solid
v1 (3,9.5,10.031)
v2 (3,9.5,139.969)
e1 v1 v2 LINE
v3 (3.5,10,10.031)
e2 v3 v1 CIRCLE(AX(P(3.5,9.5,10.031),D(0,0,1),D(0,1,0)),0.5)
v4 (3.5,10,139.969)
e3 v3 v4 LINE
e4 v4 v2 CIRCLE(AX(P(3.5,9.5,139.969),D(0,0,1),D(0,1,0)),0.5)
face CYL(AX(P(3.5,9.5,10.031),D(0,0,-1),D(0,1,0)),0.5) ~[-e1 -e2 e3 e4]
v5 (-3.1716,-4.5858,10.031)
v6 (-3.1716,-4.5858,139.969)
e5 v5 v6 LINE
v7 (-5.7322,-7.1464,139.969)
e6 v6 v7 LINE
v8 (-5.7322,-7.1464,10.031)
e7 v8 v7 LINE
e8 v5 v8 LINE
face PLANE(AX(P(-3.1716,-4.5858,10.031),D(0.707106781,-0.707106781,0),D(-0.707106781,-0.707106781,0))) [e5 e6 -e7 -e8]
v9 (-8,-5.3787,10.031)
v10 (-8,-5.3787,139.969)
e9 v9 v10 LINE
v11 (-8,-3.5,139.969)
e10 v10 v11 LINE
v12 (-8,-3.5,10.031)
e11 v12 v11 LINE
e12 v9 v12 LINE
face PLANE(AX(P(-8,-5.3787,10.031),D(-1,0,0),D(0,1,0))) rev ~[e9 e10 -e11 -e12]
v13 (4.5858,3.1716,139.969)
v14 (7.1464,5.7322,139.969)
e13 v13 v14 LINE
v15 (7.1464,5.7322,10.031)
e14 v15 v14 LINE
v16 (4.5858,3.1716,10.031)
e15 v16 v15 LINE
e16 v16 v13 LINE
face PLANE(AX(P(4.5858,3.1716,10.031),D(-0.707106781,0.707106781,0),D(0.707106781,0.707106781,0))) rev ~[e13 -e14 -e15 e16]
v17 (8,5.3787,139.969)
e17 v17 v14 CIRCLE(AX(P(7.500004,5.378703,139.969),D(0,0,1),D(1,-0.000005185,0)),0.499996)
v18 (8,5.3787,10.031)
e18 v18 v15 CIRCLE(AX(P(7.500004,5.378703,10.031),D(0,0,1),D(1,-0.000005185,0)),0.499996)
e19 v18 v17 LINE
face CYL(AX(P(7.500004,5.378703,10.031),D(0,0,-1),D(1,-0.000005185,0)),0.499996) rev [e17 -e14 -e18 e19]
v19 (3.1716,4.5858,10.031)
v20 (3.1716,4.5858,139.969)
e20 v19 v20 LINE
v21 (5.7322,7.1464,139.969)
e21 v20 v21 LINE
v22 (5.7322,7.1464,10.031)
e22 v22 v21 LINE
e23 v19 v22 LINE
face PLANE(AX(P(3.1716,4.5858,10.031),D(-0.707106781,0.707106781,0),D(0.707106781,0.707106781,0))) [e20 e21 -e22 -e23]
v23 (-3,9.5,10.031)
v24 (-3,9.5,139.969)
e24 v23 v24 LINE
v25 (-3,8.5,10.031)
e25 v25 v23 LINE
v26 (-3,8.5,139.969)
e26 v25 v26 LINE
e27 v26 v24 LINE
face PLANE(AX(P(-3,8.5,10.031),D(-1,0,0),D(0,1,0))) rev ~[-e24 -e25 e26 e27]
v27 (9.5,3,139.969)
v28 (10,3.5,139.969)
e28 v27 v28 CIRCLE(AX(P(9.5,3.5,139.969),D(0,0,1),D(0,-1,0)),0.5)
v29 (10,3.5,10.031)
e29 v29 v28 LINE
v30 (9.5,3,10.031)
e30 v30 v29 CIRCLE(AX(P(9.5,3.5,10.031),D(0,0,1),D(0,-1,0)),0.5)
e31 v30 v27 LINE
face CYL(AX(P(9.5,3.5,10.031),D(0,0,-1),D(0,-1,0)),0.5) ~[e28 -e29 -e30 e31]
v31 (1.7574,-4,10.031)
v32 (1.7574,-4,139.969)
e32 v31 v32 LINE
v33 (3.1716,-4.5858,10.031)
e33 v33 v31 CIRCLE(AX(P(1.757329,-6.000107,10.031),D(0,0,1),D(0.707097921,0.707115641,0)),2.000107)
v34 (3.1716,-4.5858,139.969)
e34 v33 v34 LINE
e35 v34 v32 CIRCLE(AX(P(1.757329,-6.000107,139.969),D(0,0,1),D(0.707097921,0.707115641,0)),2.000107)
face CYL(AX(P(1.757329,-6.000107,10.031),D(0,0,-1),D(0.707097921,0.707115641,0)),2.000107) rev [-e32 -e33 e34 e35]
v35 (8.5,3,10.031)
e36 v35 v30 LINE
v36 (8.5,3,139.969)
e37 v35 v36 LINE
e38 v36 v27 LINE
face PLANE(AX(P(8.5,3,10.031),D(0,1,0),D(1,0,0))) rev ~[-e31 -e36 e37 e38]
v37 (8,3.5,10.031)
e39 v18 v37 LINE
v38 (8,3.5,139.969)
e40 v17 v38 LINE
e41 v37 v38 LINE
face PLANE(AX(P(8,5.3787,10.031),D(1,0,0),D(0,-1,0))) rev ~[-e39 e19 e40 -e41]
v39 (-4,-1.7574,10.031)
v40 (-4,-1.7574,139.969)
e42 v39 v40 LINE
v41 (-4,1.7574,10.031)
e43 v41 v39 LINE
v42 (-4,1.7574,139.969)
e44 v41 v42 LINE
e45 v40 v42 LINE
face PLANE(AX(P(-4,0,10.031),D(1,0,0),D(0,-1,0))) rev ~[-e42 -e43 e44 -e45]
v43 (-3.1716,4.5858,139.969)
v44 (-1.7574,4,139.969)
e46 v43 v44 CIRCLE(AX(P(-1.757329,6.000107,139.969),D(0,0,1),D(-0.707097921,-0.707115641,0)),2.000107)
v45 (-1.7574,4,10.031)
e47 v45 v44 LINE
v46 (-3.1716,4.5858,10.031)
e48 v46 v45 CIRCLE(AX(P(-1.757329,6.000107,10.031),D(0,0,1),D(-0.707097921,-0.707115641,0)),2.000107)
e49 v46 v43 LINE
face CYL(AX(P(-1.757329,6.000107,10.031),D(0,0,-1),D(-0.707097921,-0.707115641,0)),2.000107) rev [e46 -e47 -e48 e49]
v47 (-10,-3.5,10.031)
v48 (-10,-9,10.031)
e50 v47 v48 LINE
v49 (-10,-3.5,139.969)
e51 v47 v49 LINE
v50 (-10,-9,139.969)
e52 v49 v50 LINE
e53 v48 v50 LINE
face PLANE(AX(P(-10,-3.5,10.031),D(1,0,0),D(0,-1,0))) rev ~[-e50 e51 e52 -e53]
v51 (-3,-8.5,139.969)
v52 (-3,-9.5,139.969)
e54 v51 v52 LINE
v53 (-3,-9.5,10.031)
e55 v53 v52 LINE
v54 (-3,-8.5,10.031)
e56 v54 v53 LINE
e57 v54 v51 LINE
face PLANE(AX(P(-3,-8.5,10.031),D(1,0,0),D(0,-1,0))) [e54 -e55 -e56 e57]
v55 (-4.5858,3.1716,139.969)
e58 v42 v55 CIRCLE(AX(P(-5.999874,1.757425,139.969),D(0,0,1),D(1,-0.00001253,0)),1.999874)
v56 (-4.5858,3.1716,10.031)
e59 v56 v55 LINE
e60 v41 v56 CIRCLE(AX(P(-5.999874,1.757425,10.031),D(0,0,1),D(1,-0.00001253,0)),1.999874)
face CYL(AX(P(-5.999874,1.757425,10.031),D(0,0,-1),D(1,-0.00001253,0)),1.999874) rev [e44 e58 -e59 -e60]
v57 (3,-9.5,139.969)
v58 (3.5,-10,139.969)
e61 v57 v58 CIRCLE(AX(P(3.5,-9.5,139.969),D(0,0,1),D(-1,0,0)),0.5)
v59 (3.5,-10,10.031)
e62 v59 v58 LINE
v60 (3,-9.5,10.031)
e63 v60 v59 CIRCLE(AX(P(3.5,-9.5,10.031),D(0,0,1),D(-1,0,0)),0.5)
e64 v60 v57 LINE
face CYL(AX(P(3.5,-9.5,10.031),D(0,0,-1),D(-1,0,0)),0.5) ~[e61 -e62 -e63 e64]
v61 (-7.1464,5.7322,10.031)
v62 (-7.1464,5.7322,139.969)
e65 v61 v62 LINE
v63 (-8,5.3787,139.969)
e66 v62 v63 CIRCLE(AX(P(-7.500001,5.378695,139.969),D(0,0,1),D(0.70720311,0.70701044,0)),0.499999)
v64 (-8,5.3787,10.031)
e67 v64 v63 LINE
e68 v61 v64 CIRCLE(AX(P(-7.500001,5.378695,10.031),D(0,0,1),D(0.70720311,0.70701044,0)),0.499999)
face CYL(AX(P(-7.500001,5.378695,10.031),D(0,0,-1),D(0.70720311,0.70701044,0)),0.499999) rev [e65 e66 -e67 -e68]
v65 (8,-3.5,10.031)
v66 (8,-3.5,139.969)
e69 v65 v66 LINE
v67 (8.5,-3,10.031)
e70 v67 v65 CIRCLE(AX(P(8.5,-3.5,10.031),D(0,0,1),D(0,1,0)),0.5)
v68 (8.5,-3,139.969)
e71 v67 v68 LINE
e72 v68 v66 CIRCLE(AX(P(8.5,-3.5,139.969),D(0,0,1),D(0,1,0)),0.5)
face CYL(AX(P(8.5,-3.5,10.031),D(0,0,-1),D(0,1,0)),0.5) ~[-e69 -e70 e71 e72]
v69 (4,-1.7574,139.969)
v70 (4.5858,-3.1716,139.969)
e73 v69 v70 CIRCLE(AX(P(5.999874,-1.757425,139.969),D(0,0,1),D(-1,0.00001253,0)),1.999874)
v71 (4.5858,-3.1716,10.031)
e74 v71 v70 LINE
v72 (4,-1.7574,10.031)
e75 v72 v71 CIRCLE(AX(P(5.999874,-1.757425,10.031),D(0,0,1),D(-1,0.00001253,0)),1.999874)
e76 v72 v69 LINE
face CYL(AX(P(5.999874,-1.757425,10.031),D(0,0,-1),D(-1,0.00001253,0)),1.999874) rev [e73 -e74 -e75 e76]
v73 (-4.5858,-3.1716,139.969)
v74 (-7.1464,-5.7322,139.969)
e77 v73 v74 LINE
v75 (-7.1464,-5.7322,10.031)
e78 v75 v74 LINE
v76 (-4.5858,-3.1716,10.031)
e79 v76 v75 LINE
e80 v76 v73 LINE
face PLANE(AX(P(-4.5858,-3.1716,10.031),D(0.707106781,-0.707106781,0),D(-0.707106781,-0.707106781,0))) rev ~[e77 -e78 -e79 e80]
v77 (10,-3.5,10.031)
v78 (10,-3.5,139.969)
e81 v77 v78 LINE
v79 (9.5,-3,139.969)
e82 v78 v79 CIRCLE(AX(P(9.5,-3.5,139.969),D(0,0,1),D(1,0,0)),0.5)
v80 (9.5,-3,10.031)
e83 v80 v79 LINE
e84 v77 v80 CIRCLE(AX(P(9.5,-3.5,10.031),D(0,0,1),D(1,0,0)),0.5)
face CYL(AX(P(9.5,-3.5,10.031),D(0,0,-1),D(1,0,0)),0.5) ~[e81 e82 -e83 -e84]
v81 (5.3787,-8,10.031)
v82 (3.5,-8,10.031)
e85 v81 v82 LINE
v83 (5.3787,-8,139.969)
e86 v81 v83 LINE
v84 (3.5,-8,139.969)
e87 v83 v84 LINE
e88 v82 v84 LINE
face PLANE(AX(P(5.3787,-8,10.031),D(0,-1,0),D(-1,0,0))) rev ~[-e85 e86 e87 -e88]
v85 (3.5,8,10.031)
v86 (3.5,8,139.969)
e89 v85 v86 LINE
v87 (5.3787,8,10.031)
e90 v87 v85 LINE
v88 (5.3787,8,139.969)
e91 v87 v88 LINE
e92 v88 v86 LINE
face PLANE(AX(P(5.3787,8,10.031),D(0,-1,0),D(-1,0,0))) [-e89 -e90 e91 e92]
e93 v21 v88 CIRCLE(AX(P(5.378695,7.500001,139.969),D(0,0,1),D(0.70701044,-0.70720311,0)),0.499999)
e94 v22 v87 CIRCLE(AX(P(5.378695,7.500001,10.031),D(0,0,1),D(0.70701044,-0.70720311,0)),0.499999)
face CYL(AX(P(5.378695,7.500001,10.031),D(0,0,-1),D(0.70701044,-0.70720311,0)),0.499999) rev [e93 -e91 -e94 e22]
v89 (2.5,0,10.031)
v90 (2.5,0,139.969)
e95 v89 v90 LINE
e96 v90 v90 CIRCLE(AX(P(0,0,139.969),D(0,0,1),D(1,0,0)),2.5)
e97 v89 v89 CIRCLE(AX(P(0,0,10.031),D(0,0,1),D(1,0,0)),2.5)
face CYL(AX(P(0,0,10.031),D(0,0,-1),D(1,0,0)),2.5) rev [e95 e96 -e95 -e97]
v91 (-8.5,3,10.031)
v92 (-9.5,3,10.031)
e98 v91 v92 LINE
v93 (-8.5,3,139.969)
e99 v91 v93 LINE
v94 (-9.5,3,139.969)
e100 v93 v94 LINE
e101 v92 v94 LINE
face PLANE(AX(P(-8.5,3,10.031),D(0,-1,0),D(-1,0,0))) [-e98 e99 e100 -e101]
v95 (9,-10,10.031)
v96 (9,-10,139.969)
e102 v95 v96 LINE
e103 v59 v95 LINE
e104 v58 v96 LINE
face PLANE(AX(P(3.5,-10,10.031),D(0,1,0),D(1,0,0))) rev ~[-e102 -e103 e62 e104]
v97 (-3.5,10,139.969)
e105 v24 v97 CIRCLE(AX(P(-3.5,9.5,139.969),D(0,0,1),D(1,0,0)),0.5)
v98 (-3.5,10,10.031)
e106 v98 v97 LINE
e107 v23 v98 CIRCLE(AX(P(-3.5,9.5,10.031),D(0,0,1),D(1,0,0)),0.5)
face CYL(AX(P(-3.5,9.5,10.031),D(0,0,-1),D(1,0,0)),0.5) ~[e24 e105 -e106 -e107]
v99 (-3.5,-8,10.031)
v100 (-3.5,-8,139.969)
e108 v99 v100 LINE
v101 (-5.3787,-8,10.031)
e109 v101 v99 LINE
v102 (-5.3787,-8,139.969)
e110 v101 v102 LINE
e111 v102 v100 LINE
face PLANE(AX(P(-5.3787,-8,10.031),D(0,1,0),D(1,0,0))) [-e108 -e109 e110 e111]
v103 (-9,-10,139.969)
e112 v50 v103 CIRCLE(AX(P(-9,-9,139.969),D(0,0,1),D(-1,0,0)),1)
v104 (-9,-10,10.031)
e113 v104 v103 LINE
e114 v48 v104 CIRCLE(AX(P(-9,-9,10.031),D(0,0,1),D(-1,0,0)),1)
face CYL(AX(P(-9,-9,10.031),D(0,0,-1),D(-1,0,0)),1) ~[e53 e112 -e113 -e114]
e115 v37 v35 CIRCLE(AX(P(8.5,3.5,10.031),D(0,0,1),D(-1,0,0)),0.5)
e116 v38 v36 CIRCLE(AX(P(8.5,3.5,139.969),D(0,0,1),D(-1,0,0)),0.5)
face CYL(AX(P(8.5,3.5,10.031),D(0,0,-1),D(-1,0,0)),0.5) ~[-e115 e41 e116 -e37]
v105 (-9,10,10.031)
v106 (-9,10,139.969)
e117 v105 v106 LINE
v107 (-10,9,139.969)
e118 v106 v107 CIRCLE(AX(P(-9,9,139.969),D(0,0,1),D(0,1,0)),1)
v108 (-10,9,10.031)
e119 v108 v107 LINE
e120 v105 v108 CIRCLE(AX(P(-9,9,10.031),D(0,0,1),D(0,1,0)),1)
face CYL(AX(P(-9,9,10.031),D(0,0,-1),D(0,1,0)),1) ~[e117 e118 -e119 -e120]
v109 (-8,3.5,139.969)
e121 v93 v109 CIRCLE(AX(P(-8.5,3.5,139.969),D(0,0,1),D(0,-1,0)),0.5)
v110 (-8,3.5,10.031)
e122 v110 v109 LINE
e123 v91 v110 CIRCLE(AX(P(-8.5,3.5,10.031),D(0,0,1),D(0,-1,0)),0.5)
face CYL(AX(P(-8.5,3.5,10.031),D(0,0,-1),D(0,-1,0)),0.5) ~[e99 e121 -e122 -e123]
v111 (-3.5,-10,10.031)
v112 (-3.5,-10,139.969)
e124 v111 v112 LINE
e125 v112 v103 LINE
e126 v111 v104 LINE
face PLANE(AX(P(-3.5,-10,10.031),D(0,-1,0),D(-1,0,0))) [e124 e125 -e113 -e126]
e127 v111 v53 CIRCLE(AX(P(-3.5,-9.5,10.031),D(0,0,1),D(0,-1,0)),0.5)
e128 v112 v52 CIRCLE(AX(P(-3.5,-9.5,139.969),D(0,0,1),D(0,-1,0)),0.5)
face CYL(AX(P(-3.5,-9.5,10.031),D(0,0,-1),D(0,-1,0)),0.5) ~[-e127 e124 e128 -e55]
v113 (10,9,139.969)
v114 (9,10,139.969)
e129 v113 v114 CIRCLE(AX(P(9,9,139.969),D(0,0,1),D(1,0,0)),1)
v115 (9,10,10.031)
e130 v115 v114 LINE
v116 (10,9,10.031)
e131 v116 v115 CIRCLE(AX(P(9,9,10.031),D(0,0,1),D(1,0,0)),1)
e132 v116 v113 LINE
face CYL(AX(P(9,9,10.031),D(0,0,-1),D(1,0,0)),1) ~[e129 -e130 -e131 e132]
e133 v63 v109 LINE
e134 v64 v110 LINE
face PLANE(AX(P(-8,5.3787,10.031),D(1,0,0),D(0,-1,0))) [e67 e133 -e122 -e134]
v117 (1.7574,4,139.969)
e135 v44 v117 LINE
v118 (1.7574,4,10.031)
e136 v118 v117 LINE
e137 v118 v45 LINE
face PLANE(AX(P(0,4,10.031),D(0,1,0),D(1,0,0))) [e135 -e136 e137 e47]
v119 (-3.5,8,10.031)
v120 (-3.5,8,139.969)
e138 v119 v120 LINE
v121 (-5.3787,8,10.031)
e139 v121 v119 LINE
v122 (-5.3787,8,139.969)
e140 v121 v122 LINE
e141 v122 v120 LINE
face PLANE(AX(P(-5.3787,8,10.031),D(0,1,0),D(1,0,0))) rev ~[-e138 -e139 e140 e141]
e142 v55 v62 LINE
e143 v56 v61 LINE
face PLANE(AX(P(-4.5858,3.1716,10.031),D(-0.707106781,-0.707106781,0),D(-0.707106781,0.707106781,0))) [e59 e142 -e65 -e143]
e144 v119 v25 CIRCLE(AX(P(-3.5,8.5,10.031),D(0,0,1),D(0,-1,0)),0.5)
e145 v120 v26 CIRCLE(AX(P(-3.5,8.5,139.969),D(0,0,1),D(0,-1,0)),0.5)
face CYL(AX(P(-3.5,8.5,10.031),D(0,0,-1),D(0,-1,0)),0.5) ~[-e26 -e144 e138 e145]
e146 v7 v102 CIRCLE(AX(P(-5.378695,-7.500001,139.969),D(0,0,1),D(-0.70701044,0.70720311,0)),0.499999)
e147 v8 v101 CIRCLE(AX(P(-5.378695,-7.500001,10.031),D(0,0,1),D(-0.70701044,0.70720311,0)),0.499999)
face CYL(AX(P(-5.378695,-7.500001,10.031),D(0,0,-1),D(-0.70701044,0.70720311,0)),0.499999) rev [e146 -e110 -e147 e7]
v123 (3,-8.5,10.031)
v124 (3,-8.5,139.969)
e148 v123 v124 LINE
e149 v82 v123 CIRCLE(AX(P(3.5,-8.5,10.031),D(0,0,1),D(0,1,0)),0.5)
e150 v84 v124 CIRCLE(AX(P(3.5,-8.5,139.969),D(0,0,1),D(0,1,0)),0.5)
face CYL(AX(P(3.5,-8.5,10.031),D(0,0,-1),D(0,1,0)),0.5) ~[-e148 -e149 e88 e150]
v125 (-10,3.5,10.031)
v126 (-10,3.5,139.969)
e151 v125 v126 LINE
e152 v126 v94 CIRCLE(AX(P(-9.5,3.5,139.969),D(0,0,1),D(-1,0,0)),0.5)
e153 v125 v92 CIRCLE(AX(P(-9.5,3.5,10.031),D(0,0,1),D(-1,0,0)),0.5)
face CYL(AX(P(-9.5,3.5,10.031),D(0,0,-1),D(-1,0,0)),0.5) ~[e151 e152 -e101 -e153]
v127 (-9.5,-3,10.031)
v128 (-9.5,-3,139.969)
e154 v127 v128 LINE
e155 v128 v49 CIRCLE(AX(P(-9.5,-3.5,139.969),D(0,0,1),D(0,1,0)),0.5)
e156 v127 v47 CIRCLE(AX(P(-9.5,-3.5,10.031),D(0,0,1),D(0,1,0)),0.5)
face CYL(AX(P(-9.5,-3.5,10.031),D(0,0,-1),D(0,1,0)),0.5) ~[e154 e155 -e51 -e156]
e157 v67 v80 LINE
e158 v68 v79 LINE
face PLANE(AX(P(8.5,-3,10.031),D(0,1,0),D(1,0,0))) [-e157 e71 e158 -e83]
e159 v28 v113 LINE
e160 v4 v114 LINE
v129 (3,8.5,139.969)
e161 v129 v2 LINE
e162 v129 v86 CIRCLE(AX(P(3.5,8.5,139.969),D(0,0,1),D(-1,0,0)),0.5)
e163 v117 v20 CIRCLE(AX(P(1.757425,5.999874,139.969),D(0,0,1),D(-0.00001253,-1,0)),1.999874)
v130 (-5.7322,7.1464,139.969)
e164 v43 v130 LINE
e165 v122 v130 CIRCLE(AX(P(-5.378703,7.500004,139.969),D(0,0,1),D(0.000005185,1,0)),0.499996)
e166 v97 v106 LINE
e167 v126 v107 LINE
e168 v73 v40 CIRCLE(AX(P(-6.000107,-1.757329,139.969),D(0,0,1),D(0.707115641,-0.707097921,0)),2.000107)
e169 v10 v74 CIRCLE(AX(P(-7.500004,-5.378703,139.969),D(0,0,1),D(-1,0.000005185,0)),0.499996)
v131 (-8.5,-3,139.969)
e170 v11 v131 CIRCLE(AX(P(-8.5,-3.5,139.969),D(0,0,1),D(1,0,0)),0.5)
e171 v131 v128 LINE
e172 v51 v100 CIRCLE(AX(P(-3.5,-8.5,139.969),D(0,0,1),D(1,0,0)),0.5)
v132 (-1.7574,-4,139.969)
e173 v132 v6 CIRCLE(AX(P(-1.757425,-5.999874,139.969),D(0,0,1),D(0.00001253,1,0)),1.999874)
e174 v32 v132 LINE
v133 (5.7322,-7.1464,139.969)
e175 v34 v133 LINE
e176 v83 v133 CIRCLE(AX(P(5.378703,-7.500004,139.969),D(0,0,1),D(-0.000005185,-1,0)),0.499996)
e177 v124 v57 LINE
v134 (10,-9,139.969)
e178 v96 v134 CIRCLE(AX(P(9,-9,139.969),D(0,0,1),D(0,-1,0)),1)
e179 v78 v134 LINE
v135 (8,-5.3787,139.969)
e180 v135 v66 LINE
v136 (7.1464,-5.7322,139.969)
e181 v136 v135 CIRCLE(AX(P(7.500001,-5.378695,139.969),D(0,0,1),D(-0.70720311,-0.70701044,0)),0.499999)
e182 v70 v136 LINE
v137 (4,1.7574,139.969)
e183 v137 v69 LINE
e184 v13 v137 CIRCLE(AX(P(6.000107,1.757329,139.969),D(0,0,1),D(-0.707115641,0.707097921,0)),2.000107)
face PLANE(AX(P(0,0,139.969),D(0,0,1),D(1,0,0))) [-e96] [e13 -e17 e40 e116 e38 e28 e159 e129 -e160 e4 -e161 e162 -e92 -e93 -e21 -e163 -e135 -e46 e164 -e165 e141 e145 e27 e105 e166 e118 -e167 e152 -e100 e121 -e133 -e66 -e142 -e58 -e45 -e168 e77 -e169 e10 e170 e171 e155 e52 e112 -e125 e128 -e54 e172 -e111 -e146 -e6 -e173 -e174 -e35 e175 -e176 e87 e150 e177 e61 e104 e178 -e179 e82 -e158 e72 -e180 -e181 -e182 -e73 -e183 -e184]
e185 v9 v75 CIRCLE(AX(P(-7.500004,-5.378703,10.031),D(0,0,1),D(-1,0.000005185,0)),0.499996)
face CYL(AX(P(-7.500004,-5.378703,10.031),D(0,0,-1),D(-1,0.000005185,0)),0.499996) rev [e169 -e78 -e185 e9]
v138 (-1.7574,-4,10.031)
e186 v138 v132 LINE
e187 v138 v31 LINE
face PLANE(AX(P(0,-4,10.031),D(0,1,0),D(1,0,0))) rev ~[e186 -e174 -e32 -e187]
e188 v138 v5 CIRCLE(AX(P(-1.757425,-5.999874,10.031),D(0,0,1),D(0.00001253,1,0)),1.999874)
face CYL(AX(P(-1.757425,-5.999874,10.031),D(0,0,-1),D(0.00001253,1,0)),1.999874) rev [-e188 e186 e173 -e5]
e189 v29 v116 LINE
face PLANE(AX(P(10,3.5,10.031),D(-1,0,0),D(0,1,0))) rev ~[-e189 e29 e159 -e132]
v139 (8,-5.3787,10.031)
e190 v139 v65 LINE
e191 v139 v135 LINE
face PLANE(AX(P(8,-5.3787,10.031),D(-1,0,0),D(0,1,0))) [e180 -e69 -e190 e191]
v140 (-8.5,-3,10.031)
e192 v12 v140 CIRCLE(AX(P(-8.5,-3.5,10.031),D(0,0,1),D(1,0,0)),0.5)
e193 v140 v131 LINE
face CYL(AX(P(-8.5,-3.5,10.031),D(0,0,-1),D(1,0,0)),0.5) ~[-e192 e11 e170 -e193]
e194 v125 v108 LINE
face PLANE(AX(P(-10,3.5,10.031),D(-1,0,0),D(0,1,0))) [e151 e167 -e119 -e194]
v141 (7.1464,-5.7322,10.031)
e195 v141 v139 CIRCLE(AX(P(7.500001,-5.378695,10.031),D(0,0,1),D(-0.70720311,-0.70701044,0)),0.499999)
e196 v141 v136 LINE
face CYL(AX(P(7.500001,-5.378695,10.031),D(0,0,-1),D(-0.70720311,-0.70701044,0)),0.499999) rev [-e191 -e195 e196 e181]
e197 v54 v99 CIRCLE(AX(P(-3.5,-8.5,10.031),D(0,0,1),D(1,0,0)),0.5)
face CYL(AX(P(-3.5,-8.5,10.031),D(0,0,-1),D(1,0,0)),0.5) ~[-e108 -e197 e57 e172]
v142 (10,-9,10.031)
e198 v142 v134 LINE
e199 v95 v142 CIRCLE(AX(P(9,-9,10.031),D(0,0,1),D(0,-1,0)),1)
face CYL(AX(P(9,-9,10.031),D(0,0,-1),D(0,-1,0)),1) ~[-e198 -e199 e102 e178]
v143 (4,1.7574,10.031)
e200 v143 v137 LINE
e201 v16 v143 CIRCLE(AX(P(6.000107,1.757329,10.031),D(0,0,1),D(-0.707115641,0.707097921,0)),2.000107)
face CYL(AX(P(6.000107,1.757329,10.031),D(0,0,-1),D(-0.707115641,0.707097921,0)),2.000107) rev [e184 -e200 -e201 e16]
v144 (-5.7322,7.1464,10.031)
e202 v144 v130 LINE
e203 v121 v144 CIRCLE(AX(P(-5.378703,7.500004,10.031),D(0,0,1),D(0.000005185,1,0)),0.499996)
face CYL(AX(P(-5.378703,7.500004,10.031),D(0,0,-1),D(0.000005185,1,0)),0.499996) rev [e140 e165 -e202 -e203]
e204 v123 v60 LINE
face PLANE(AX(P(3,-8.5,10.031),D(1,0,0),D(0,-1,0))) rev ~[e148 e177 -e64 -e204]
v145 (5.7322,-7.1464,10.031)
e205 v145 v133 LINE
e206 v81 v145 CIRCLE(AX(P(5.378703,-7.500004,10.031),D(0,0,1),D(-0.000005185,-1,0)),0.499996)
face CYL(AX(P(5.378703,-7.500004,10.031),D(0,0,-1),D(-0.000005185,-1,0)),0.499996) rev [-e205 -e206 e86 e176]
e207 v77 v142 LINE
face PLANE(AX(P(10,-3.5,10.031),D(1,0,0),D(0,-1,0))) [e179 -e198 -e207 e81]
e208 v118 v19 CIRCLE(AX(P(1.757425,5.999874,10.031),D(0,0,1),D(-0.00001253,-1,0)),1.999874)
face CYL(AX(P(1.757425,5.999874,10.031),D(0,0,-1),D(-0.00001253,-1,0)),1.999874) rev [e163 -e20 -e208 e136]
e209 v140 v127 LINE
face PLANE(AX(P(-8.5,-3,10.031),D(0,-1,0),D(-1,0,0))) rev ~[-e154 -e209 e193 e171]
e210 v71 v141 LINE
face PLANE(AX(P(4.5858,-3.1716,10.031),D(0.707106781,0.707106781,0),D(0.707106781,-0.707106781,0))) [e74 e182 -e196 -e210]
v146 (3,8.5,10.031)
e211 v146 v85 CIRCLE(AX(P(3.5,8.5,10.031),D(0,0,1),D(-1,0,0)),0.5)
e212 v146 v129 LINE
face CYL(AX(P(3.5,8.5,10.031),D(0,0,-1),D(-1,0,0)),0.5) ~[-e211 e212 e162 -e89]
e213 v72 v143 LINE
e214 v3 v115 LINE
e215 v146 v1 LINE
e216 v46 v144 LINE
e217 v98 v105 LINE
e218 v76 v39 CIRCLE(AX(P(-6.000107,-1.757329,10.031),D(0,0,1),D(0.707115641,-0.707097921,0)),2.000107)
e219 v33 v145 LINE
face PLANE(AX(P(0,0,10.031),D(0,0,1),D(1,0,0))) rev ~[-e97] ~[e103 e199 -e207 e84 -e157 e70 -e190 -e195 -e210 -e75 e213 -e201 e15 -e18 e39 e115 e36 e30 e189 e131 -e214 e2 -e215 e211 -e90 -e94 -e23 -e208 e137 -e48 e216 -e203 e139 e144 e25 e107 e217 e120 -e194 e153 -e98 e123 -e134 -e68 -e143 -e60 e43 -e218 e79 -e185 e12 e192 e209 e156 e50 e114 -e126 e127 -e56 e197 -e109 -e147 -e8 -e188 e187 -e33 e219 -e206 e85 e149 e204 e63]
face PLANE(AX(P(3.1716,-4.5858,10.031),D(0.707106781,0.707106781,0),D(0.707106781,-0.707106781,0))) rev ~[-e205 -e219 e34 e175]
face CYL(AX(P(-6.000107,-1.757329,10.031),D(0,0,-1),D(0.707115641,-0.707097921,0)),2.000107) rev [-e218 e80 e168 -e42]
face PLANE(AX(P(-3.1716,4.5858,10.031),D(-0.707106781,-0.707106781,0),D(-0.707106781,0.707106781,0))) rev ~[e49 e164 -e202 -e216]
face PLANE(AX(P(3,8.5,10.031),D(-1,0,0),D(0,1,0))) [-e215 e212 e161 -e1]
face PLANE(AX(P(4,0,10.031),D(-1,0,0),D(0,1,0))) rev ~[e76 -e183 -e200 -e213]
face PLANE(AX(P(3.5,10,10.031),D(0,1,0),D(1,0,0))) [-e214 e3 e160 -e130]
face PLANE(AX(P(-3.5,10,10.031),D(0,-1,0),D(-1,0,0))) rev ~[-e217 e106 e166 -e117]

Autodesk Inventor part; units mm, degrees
ref_plane "Start Plane" through (0, 0, 10.031) normal (0, 0, 1) x (1, 0, 0)
ref_plane "End Plane" through (0, 0, 139.969) normal (0, 0, 1) x (1, 0, 0)
sketch "Sketch" plane through (0, 0, 0) normal (0, 0, 1) x (1, 0, 0)
  line L0 (0, 0) -> (2.5, 0) construction
  line L1 (0, 0) -> (0, 2.5) construction
  line L2 (0, 4) -> (0, -4) construction
  line L3 (0, 4) -> (1.7574, 4)
  arc A0 (1.7574, 4) -> (3.1716, 4.5858) centre (1.7574, 6) ccw
  line L4 (3.1716, 4.5858) -> (5.7322, 7.1464)
  line L5 (-4, 0) -> (4, 0) construction
  line L6 (4, 0) -> (4, 1.7574)
  arc A1 (4.5858, 3.1716) -> (4, 1.7574) centre (6, 1.7574) ccw
  line L7 (4.5858, 3.1716) -> (7.1464, 5.7322)
  line L8 (0, 0) -> (10, 10) construction
  line L9 (0, 0) -> (19.6827, 0) construction
  arc A2 (8, 5.3787) -> (7.1464, 5.7322) centre (7.5, 5.3787) ccw
  line L10 (8, 5.3787) -> (8, 3.5)
  arc A3 (8, 3.5) -> (8.5, 3) centre (8.5, 3.5) ccw
  line L11 (8.5, 3) -> (9.5, 3)
  arc A4 (9.5, 3) -> (10, 3.5) centre (9.5, 3.5) ccw
  line L12 (10, 3.5) -> (10, 9)
  line L13 (10, 9) -> (10, 10) construction
  arc A5 (5.7322, 7.1464) -> (5.3787, 8) centre (5.3787, 7.5) ccw
  line L14 (5.3787, 8) -> (3.5, 8)
  arc A6 (3, 8.5) -> (3.5, 8) centre (3.5, 8.5) ccw
  line L15 (3, 8.5) -> (3, 9.5)
  arc A7 (3.5, 10) -> (3, 9.5) centre (3.5, 9.5) ccw
  line L16 (3.5, 10) -> (9, 10)
  arc A8 (10, 9) -> (9, 10) centre (9, 9) ccw
  line L17 (0, 4) -> (-1.7574, 4)
  arc A9 (-3.1716, 4.5858) -> (-1.7574, 4) centre (-1.7574, 6) ccw
  line L18 (-3.1716, 4.5858) -> (-5.7322, 7.1464)
  line L19 (-4, 0) -> (-4, 1.7574)
  arc A10 (-4, 1.7574) -> (-4.5858, 3.1716) centre (-6, 1.7574) ccw
  line L20 (-4.5858, 3.1716) -> (-7.1464, 5.7322)
  arc A11 (-7.1464, 5.7322) -> (-8, 5.3787) centre (-7.5, 5.3787) ccw
  line L21 (-8, 5.3787) -> (-8, 3.5)
  arc A12 (-8.5, 3) -> (-8, 3.5) centre (-8.5, 3.5) ccw
  line L22 (-8.5, 3) -> (-9.5, 3)
  arc A13 (-10, 3.5) -> (-9.5, 3) centre (-9.5, 3.5) ccw
  line L23 (-10, 3.5) -> (-10, 9)
  arc A14 (-5.3787, 8) -> (-5.7322, 7.1464) centre (-5.3787, 7.5) ccw
  line L24 (-5.3787, 8) -> (-3.5, 8)
  arc A15 (-3.5, 8) -> (-3, 8.5) centre (-3.5, 8.5) ccw
  line L25 (-3, 8.5) -> (-3, 9.5)
  arc A16 (-3, 9.5) -> (-3.5, 10) centre (-3.5, 9.5) ccw
  line L26 (-3.5, 10) -> (-9, 10)
  arc A17 (-9, 10) -> (-10, 9) centre (-9, 9) ccw
  line L27 (0, -4) -> (-1.7574, -4)
  arc A18 (-1.7574, -4) -> (-3.1716, -4.5858) centre (-1.7574, -6) ccw
  line L28 (-3.1716, -4.5858) -> (-5.7322, -7.1464)
  arc A19 (-5.7322, -7.1464) -> (-5.3787, -8) centre (-5.3787, -7.5) ccw
  line L29 (-5.3787, -8) -> (-3.5, -8)
  arc A20 (-3, -8.5) -> (-3.5, -8) centre (-3.5, -8.5) ccw
  line L30 (-3, -8.5) -> (-3, -9.5)
  arc A21 (-3.5, -10) -> (-3, -9.5) centre (-3.5, -9.5) ccw
  line L31 (-3.5, -10) -> (-9, -10)
  arc A22 (-10, -9) -> (-9, -10) centre (-9, -9) ccw
  line L32 (-10, -3.5) -> (-10, -9)
  arc A23 (-9.5, -3) -> (-10, -3.5) centre (-9.5, -3.5) ccw
  line L33 (-8.5, -3) -> (-9.5, -3)
  arc A24 (-8, -3.5) -> (-8.5, -3) centre (-8.5, -3.5) ccw
  line L34 (-8, -5.3787) -> (-8, -3.5)
  arc A25 (-8, -5.3787) -> (-7.1464, -5.7322) centre (-7.5, -5.3787) ccw
  line L35 (-4.5858, -3.1716) -> (-7.1464, -5.7322)
  arc A26 (-4.5858, -3.1716) -> (-4, -1.7574) centre (-6, -1.7574) ccw
  line L36 (-4, 0) -> (-4, -1.7574)
  line L37 (3.5, -10) -> (9, -10)
  arc A27 (9, -10) -> (10, -9) centre (9, -9) ccw
  line L38 (10, -3.5) -> (10, -9)
  arc A28 (10, -3.5) -> (9.5, -3) centre (9.5, -3.5) ccw
  line L39 (8.5, -3) -> (9.5, -3)
  arc A29 (8.5, -3) -> (8, -3.5) centre (8.5, -3.5) ccw
  line L40 (8, -5.3787) -> (8, -3.5)
  arc A30 (7.1464, -5.7322) -> (8, -5.3787) centre (7.5, -5.3787) ccw
  line L41 (4.5858, -3.1716) -> (7.1464, -5.7322)
  arc A31 (4, -1.7574) -> (4.5858, -3.1716) centre (6, -1.7574) ccw
  line L42 (4, 0) -> (4, -1.7574)
  line L43 (5.3787, -8) -> (3.5, -8)
  arc A32 (5.3787, -8) -> (5.7322, -7.1464) centre (5.3787, -7.5) ccw
  line L44 (3.1716, -4.5858) -> (5.7322, -7.1464)
  arc A33 (3.1716, -4.5858) -> (1.7574, -4) centre (1.7574, -6) ccw
  line L45 (0, -4) -> (1.7574, -4)
  arc A34 (3.5, -8) -> (3, -8.5) centre (3.5, -8.5) ccw
  line L46 (3, -8.5) -> (3, -9.5)
  arc A35 (3, -9.5) -> (3.5, -10) centre (3.5, -9.5) ccw
  circle A36 centre (0, 0) radius 2.5
  dimension "d1" = 8
  dimension "d2" = 2
  dimension "d3" = 8
  dimension "d4" = 2
  dimension "d5" = 2
  dimension "d7" = 45
  dimension "d8" = 0.5
  dimension "d9" = 0.5
  dimension "d10" = 0.5
  dimension "d12" = 2
  dimension "d17" = 7
  dimension "d18" = 10
  dimension "d19" = 0.5
  dimension "d20" = 1
  dimension "d21" = 0.5
  dimension "d22" = 0.5
  dimension "d23" = 2
  dimension "d24" = 7
  dimension "d25" = 5
extrude "Body" add sketch "Sketch" along normal up to surface (129.938 mm away) from surface at 10.031
sketch "Sketch6" plane through (0, 0, 0) normal (0, 0, 1) x (1, 0, 0)
  line L0 (0, 0) -> (10, 0)
ref_plane "Work Plane5" through (0, 0, 0) normal (0, -1, 0) x (1, 0, 0)
sketch "Sketch7" plane through (0, 0, 0) normal (0, -1, 0) x (1, 0, 0)
  line L0 (-2, 10.031) -> (12, 10.031)
  line L1 (-2, 139.969) -> (12, 139.969)
  dimension "d33" = 129.938
ref_plane "Work Plane6" through (200, 9, 139.969) normal (0, 0, 1) x (1, 0, 0)
split "Split1" plane through (200, 9, 139.969) removes the side toward (0, 0, 1)
ref_plane "Work Plane7" through (-300, 9, 10.031) normal (0, 0, -1) x (-1, 0, 0)
split "Split2" plane through (-300, 9, 10.031) removes the side toward (0, 0, -1)
equation "\"d1\" = 8 * sigma"
equation "\"d2\" = 2 * sigma"
equation "\"d3\" = 8 * sigma"
equation "\"d4\" = 2 * sigma"
equation "\"d5\" = 2 * sigma"
equation "\"d8\" = 0.5 * sigma"
equation "\"d9\" = 0.5 * sigma"
equation "\"d10\" = 0.5 * sigma"
equation "\"d12\" = 2 * sigma"
equation "\"d17\" = 7 * sigma"
equation "\"d18\" = sigma"
equation "\"d19\" = 0.5 * sigma"
equation "\"d20\" = sigma"
equation "\"d21\" = 0.5 * sigma"
equation "\"d22\" = 0.5 * sigma"
equation "\"d23\" = 2 * sigma"
equation "\"d24\" = 7 * sigma"
equation "\"d25\" = 5 * sigma"
equation "\"sigma\" = 1"
equation "\"G_OFFSET_START\" = -10.031"
equation "\"G_OFFSET_END\" = -10.031"
equation "\"d28\" = -G_OFFSET_START"
equation "\"d29\" = Length + G_OFFSET_END"
equation "\"G_L\" = d33"
equation "\"Length\" = 150"
properties part number "A3.3-MEM"
